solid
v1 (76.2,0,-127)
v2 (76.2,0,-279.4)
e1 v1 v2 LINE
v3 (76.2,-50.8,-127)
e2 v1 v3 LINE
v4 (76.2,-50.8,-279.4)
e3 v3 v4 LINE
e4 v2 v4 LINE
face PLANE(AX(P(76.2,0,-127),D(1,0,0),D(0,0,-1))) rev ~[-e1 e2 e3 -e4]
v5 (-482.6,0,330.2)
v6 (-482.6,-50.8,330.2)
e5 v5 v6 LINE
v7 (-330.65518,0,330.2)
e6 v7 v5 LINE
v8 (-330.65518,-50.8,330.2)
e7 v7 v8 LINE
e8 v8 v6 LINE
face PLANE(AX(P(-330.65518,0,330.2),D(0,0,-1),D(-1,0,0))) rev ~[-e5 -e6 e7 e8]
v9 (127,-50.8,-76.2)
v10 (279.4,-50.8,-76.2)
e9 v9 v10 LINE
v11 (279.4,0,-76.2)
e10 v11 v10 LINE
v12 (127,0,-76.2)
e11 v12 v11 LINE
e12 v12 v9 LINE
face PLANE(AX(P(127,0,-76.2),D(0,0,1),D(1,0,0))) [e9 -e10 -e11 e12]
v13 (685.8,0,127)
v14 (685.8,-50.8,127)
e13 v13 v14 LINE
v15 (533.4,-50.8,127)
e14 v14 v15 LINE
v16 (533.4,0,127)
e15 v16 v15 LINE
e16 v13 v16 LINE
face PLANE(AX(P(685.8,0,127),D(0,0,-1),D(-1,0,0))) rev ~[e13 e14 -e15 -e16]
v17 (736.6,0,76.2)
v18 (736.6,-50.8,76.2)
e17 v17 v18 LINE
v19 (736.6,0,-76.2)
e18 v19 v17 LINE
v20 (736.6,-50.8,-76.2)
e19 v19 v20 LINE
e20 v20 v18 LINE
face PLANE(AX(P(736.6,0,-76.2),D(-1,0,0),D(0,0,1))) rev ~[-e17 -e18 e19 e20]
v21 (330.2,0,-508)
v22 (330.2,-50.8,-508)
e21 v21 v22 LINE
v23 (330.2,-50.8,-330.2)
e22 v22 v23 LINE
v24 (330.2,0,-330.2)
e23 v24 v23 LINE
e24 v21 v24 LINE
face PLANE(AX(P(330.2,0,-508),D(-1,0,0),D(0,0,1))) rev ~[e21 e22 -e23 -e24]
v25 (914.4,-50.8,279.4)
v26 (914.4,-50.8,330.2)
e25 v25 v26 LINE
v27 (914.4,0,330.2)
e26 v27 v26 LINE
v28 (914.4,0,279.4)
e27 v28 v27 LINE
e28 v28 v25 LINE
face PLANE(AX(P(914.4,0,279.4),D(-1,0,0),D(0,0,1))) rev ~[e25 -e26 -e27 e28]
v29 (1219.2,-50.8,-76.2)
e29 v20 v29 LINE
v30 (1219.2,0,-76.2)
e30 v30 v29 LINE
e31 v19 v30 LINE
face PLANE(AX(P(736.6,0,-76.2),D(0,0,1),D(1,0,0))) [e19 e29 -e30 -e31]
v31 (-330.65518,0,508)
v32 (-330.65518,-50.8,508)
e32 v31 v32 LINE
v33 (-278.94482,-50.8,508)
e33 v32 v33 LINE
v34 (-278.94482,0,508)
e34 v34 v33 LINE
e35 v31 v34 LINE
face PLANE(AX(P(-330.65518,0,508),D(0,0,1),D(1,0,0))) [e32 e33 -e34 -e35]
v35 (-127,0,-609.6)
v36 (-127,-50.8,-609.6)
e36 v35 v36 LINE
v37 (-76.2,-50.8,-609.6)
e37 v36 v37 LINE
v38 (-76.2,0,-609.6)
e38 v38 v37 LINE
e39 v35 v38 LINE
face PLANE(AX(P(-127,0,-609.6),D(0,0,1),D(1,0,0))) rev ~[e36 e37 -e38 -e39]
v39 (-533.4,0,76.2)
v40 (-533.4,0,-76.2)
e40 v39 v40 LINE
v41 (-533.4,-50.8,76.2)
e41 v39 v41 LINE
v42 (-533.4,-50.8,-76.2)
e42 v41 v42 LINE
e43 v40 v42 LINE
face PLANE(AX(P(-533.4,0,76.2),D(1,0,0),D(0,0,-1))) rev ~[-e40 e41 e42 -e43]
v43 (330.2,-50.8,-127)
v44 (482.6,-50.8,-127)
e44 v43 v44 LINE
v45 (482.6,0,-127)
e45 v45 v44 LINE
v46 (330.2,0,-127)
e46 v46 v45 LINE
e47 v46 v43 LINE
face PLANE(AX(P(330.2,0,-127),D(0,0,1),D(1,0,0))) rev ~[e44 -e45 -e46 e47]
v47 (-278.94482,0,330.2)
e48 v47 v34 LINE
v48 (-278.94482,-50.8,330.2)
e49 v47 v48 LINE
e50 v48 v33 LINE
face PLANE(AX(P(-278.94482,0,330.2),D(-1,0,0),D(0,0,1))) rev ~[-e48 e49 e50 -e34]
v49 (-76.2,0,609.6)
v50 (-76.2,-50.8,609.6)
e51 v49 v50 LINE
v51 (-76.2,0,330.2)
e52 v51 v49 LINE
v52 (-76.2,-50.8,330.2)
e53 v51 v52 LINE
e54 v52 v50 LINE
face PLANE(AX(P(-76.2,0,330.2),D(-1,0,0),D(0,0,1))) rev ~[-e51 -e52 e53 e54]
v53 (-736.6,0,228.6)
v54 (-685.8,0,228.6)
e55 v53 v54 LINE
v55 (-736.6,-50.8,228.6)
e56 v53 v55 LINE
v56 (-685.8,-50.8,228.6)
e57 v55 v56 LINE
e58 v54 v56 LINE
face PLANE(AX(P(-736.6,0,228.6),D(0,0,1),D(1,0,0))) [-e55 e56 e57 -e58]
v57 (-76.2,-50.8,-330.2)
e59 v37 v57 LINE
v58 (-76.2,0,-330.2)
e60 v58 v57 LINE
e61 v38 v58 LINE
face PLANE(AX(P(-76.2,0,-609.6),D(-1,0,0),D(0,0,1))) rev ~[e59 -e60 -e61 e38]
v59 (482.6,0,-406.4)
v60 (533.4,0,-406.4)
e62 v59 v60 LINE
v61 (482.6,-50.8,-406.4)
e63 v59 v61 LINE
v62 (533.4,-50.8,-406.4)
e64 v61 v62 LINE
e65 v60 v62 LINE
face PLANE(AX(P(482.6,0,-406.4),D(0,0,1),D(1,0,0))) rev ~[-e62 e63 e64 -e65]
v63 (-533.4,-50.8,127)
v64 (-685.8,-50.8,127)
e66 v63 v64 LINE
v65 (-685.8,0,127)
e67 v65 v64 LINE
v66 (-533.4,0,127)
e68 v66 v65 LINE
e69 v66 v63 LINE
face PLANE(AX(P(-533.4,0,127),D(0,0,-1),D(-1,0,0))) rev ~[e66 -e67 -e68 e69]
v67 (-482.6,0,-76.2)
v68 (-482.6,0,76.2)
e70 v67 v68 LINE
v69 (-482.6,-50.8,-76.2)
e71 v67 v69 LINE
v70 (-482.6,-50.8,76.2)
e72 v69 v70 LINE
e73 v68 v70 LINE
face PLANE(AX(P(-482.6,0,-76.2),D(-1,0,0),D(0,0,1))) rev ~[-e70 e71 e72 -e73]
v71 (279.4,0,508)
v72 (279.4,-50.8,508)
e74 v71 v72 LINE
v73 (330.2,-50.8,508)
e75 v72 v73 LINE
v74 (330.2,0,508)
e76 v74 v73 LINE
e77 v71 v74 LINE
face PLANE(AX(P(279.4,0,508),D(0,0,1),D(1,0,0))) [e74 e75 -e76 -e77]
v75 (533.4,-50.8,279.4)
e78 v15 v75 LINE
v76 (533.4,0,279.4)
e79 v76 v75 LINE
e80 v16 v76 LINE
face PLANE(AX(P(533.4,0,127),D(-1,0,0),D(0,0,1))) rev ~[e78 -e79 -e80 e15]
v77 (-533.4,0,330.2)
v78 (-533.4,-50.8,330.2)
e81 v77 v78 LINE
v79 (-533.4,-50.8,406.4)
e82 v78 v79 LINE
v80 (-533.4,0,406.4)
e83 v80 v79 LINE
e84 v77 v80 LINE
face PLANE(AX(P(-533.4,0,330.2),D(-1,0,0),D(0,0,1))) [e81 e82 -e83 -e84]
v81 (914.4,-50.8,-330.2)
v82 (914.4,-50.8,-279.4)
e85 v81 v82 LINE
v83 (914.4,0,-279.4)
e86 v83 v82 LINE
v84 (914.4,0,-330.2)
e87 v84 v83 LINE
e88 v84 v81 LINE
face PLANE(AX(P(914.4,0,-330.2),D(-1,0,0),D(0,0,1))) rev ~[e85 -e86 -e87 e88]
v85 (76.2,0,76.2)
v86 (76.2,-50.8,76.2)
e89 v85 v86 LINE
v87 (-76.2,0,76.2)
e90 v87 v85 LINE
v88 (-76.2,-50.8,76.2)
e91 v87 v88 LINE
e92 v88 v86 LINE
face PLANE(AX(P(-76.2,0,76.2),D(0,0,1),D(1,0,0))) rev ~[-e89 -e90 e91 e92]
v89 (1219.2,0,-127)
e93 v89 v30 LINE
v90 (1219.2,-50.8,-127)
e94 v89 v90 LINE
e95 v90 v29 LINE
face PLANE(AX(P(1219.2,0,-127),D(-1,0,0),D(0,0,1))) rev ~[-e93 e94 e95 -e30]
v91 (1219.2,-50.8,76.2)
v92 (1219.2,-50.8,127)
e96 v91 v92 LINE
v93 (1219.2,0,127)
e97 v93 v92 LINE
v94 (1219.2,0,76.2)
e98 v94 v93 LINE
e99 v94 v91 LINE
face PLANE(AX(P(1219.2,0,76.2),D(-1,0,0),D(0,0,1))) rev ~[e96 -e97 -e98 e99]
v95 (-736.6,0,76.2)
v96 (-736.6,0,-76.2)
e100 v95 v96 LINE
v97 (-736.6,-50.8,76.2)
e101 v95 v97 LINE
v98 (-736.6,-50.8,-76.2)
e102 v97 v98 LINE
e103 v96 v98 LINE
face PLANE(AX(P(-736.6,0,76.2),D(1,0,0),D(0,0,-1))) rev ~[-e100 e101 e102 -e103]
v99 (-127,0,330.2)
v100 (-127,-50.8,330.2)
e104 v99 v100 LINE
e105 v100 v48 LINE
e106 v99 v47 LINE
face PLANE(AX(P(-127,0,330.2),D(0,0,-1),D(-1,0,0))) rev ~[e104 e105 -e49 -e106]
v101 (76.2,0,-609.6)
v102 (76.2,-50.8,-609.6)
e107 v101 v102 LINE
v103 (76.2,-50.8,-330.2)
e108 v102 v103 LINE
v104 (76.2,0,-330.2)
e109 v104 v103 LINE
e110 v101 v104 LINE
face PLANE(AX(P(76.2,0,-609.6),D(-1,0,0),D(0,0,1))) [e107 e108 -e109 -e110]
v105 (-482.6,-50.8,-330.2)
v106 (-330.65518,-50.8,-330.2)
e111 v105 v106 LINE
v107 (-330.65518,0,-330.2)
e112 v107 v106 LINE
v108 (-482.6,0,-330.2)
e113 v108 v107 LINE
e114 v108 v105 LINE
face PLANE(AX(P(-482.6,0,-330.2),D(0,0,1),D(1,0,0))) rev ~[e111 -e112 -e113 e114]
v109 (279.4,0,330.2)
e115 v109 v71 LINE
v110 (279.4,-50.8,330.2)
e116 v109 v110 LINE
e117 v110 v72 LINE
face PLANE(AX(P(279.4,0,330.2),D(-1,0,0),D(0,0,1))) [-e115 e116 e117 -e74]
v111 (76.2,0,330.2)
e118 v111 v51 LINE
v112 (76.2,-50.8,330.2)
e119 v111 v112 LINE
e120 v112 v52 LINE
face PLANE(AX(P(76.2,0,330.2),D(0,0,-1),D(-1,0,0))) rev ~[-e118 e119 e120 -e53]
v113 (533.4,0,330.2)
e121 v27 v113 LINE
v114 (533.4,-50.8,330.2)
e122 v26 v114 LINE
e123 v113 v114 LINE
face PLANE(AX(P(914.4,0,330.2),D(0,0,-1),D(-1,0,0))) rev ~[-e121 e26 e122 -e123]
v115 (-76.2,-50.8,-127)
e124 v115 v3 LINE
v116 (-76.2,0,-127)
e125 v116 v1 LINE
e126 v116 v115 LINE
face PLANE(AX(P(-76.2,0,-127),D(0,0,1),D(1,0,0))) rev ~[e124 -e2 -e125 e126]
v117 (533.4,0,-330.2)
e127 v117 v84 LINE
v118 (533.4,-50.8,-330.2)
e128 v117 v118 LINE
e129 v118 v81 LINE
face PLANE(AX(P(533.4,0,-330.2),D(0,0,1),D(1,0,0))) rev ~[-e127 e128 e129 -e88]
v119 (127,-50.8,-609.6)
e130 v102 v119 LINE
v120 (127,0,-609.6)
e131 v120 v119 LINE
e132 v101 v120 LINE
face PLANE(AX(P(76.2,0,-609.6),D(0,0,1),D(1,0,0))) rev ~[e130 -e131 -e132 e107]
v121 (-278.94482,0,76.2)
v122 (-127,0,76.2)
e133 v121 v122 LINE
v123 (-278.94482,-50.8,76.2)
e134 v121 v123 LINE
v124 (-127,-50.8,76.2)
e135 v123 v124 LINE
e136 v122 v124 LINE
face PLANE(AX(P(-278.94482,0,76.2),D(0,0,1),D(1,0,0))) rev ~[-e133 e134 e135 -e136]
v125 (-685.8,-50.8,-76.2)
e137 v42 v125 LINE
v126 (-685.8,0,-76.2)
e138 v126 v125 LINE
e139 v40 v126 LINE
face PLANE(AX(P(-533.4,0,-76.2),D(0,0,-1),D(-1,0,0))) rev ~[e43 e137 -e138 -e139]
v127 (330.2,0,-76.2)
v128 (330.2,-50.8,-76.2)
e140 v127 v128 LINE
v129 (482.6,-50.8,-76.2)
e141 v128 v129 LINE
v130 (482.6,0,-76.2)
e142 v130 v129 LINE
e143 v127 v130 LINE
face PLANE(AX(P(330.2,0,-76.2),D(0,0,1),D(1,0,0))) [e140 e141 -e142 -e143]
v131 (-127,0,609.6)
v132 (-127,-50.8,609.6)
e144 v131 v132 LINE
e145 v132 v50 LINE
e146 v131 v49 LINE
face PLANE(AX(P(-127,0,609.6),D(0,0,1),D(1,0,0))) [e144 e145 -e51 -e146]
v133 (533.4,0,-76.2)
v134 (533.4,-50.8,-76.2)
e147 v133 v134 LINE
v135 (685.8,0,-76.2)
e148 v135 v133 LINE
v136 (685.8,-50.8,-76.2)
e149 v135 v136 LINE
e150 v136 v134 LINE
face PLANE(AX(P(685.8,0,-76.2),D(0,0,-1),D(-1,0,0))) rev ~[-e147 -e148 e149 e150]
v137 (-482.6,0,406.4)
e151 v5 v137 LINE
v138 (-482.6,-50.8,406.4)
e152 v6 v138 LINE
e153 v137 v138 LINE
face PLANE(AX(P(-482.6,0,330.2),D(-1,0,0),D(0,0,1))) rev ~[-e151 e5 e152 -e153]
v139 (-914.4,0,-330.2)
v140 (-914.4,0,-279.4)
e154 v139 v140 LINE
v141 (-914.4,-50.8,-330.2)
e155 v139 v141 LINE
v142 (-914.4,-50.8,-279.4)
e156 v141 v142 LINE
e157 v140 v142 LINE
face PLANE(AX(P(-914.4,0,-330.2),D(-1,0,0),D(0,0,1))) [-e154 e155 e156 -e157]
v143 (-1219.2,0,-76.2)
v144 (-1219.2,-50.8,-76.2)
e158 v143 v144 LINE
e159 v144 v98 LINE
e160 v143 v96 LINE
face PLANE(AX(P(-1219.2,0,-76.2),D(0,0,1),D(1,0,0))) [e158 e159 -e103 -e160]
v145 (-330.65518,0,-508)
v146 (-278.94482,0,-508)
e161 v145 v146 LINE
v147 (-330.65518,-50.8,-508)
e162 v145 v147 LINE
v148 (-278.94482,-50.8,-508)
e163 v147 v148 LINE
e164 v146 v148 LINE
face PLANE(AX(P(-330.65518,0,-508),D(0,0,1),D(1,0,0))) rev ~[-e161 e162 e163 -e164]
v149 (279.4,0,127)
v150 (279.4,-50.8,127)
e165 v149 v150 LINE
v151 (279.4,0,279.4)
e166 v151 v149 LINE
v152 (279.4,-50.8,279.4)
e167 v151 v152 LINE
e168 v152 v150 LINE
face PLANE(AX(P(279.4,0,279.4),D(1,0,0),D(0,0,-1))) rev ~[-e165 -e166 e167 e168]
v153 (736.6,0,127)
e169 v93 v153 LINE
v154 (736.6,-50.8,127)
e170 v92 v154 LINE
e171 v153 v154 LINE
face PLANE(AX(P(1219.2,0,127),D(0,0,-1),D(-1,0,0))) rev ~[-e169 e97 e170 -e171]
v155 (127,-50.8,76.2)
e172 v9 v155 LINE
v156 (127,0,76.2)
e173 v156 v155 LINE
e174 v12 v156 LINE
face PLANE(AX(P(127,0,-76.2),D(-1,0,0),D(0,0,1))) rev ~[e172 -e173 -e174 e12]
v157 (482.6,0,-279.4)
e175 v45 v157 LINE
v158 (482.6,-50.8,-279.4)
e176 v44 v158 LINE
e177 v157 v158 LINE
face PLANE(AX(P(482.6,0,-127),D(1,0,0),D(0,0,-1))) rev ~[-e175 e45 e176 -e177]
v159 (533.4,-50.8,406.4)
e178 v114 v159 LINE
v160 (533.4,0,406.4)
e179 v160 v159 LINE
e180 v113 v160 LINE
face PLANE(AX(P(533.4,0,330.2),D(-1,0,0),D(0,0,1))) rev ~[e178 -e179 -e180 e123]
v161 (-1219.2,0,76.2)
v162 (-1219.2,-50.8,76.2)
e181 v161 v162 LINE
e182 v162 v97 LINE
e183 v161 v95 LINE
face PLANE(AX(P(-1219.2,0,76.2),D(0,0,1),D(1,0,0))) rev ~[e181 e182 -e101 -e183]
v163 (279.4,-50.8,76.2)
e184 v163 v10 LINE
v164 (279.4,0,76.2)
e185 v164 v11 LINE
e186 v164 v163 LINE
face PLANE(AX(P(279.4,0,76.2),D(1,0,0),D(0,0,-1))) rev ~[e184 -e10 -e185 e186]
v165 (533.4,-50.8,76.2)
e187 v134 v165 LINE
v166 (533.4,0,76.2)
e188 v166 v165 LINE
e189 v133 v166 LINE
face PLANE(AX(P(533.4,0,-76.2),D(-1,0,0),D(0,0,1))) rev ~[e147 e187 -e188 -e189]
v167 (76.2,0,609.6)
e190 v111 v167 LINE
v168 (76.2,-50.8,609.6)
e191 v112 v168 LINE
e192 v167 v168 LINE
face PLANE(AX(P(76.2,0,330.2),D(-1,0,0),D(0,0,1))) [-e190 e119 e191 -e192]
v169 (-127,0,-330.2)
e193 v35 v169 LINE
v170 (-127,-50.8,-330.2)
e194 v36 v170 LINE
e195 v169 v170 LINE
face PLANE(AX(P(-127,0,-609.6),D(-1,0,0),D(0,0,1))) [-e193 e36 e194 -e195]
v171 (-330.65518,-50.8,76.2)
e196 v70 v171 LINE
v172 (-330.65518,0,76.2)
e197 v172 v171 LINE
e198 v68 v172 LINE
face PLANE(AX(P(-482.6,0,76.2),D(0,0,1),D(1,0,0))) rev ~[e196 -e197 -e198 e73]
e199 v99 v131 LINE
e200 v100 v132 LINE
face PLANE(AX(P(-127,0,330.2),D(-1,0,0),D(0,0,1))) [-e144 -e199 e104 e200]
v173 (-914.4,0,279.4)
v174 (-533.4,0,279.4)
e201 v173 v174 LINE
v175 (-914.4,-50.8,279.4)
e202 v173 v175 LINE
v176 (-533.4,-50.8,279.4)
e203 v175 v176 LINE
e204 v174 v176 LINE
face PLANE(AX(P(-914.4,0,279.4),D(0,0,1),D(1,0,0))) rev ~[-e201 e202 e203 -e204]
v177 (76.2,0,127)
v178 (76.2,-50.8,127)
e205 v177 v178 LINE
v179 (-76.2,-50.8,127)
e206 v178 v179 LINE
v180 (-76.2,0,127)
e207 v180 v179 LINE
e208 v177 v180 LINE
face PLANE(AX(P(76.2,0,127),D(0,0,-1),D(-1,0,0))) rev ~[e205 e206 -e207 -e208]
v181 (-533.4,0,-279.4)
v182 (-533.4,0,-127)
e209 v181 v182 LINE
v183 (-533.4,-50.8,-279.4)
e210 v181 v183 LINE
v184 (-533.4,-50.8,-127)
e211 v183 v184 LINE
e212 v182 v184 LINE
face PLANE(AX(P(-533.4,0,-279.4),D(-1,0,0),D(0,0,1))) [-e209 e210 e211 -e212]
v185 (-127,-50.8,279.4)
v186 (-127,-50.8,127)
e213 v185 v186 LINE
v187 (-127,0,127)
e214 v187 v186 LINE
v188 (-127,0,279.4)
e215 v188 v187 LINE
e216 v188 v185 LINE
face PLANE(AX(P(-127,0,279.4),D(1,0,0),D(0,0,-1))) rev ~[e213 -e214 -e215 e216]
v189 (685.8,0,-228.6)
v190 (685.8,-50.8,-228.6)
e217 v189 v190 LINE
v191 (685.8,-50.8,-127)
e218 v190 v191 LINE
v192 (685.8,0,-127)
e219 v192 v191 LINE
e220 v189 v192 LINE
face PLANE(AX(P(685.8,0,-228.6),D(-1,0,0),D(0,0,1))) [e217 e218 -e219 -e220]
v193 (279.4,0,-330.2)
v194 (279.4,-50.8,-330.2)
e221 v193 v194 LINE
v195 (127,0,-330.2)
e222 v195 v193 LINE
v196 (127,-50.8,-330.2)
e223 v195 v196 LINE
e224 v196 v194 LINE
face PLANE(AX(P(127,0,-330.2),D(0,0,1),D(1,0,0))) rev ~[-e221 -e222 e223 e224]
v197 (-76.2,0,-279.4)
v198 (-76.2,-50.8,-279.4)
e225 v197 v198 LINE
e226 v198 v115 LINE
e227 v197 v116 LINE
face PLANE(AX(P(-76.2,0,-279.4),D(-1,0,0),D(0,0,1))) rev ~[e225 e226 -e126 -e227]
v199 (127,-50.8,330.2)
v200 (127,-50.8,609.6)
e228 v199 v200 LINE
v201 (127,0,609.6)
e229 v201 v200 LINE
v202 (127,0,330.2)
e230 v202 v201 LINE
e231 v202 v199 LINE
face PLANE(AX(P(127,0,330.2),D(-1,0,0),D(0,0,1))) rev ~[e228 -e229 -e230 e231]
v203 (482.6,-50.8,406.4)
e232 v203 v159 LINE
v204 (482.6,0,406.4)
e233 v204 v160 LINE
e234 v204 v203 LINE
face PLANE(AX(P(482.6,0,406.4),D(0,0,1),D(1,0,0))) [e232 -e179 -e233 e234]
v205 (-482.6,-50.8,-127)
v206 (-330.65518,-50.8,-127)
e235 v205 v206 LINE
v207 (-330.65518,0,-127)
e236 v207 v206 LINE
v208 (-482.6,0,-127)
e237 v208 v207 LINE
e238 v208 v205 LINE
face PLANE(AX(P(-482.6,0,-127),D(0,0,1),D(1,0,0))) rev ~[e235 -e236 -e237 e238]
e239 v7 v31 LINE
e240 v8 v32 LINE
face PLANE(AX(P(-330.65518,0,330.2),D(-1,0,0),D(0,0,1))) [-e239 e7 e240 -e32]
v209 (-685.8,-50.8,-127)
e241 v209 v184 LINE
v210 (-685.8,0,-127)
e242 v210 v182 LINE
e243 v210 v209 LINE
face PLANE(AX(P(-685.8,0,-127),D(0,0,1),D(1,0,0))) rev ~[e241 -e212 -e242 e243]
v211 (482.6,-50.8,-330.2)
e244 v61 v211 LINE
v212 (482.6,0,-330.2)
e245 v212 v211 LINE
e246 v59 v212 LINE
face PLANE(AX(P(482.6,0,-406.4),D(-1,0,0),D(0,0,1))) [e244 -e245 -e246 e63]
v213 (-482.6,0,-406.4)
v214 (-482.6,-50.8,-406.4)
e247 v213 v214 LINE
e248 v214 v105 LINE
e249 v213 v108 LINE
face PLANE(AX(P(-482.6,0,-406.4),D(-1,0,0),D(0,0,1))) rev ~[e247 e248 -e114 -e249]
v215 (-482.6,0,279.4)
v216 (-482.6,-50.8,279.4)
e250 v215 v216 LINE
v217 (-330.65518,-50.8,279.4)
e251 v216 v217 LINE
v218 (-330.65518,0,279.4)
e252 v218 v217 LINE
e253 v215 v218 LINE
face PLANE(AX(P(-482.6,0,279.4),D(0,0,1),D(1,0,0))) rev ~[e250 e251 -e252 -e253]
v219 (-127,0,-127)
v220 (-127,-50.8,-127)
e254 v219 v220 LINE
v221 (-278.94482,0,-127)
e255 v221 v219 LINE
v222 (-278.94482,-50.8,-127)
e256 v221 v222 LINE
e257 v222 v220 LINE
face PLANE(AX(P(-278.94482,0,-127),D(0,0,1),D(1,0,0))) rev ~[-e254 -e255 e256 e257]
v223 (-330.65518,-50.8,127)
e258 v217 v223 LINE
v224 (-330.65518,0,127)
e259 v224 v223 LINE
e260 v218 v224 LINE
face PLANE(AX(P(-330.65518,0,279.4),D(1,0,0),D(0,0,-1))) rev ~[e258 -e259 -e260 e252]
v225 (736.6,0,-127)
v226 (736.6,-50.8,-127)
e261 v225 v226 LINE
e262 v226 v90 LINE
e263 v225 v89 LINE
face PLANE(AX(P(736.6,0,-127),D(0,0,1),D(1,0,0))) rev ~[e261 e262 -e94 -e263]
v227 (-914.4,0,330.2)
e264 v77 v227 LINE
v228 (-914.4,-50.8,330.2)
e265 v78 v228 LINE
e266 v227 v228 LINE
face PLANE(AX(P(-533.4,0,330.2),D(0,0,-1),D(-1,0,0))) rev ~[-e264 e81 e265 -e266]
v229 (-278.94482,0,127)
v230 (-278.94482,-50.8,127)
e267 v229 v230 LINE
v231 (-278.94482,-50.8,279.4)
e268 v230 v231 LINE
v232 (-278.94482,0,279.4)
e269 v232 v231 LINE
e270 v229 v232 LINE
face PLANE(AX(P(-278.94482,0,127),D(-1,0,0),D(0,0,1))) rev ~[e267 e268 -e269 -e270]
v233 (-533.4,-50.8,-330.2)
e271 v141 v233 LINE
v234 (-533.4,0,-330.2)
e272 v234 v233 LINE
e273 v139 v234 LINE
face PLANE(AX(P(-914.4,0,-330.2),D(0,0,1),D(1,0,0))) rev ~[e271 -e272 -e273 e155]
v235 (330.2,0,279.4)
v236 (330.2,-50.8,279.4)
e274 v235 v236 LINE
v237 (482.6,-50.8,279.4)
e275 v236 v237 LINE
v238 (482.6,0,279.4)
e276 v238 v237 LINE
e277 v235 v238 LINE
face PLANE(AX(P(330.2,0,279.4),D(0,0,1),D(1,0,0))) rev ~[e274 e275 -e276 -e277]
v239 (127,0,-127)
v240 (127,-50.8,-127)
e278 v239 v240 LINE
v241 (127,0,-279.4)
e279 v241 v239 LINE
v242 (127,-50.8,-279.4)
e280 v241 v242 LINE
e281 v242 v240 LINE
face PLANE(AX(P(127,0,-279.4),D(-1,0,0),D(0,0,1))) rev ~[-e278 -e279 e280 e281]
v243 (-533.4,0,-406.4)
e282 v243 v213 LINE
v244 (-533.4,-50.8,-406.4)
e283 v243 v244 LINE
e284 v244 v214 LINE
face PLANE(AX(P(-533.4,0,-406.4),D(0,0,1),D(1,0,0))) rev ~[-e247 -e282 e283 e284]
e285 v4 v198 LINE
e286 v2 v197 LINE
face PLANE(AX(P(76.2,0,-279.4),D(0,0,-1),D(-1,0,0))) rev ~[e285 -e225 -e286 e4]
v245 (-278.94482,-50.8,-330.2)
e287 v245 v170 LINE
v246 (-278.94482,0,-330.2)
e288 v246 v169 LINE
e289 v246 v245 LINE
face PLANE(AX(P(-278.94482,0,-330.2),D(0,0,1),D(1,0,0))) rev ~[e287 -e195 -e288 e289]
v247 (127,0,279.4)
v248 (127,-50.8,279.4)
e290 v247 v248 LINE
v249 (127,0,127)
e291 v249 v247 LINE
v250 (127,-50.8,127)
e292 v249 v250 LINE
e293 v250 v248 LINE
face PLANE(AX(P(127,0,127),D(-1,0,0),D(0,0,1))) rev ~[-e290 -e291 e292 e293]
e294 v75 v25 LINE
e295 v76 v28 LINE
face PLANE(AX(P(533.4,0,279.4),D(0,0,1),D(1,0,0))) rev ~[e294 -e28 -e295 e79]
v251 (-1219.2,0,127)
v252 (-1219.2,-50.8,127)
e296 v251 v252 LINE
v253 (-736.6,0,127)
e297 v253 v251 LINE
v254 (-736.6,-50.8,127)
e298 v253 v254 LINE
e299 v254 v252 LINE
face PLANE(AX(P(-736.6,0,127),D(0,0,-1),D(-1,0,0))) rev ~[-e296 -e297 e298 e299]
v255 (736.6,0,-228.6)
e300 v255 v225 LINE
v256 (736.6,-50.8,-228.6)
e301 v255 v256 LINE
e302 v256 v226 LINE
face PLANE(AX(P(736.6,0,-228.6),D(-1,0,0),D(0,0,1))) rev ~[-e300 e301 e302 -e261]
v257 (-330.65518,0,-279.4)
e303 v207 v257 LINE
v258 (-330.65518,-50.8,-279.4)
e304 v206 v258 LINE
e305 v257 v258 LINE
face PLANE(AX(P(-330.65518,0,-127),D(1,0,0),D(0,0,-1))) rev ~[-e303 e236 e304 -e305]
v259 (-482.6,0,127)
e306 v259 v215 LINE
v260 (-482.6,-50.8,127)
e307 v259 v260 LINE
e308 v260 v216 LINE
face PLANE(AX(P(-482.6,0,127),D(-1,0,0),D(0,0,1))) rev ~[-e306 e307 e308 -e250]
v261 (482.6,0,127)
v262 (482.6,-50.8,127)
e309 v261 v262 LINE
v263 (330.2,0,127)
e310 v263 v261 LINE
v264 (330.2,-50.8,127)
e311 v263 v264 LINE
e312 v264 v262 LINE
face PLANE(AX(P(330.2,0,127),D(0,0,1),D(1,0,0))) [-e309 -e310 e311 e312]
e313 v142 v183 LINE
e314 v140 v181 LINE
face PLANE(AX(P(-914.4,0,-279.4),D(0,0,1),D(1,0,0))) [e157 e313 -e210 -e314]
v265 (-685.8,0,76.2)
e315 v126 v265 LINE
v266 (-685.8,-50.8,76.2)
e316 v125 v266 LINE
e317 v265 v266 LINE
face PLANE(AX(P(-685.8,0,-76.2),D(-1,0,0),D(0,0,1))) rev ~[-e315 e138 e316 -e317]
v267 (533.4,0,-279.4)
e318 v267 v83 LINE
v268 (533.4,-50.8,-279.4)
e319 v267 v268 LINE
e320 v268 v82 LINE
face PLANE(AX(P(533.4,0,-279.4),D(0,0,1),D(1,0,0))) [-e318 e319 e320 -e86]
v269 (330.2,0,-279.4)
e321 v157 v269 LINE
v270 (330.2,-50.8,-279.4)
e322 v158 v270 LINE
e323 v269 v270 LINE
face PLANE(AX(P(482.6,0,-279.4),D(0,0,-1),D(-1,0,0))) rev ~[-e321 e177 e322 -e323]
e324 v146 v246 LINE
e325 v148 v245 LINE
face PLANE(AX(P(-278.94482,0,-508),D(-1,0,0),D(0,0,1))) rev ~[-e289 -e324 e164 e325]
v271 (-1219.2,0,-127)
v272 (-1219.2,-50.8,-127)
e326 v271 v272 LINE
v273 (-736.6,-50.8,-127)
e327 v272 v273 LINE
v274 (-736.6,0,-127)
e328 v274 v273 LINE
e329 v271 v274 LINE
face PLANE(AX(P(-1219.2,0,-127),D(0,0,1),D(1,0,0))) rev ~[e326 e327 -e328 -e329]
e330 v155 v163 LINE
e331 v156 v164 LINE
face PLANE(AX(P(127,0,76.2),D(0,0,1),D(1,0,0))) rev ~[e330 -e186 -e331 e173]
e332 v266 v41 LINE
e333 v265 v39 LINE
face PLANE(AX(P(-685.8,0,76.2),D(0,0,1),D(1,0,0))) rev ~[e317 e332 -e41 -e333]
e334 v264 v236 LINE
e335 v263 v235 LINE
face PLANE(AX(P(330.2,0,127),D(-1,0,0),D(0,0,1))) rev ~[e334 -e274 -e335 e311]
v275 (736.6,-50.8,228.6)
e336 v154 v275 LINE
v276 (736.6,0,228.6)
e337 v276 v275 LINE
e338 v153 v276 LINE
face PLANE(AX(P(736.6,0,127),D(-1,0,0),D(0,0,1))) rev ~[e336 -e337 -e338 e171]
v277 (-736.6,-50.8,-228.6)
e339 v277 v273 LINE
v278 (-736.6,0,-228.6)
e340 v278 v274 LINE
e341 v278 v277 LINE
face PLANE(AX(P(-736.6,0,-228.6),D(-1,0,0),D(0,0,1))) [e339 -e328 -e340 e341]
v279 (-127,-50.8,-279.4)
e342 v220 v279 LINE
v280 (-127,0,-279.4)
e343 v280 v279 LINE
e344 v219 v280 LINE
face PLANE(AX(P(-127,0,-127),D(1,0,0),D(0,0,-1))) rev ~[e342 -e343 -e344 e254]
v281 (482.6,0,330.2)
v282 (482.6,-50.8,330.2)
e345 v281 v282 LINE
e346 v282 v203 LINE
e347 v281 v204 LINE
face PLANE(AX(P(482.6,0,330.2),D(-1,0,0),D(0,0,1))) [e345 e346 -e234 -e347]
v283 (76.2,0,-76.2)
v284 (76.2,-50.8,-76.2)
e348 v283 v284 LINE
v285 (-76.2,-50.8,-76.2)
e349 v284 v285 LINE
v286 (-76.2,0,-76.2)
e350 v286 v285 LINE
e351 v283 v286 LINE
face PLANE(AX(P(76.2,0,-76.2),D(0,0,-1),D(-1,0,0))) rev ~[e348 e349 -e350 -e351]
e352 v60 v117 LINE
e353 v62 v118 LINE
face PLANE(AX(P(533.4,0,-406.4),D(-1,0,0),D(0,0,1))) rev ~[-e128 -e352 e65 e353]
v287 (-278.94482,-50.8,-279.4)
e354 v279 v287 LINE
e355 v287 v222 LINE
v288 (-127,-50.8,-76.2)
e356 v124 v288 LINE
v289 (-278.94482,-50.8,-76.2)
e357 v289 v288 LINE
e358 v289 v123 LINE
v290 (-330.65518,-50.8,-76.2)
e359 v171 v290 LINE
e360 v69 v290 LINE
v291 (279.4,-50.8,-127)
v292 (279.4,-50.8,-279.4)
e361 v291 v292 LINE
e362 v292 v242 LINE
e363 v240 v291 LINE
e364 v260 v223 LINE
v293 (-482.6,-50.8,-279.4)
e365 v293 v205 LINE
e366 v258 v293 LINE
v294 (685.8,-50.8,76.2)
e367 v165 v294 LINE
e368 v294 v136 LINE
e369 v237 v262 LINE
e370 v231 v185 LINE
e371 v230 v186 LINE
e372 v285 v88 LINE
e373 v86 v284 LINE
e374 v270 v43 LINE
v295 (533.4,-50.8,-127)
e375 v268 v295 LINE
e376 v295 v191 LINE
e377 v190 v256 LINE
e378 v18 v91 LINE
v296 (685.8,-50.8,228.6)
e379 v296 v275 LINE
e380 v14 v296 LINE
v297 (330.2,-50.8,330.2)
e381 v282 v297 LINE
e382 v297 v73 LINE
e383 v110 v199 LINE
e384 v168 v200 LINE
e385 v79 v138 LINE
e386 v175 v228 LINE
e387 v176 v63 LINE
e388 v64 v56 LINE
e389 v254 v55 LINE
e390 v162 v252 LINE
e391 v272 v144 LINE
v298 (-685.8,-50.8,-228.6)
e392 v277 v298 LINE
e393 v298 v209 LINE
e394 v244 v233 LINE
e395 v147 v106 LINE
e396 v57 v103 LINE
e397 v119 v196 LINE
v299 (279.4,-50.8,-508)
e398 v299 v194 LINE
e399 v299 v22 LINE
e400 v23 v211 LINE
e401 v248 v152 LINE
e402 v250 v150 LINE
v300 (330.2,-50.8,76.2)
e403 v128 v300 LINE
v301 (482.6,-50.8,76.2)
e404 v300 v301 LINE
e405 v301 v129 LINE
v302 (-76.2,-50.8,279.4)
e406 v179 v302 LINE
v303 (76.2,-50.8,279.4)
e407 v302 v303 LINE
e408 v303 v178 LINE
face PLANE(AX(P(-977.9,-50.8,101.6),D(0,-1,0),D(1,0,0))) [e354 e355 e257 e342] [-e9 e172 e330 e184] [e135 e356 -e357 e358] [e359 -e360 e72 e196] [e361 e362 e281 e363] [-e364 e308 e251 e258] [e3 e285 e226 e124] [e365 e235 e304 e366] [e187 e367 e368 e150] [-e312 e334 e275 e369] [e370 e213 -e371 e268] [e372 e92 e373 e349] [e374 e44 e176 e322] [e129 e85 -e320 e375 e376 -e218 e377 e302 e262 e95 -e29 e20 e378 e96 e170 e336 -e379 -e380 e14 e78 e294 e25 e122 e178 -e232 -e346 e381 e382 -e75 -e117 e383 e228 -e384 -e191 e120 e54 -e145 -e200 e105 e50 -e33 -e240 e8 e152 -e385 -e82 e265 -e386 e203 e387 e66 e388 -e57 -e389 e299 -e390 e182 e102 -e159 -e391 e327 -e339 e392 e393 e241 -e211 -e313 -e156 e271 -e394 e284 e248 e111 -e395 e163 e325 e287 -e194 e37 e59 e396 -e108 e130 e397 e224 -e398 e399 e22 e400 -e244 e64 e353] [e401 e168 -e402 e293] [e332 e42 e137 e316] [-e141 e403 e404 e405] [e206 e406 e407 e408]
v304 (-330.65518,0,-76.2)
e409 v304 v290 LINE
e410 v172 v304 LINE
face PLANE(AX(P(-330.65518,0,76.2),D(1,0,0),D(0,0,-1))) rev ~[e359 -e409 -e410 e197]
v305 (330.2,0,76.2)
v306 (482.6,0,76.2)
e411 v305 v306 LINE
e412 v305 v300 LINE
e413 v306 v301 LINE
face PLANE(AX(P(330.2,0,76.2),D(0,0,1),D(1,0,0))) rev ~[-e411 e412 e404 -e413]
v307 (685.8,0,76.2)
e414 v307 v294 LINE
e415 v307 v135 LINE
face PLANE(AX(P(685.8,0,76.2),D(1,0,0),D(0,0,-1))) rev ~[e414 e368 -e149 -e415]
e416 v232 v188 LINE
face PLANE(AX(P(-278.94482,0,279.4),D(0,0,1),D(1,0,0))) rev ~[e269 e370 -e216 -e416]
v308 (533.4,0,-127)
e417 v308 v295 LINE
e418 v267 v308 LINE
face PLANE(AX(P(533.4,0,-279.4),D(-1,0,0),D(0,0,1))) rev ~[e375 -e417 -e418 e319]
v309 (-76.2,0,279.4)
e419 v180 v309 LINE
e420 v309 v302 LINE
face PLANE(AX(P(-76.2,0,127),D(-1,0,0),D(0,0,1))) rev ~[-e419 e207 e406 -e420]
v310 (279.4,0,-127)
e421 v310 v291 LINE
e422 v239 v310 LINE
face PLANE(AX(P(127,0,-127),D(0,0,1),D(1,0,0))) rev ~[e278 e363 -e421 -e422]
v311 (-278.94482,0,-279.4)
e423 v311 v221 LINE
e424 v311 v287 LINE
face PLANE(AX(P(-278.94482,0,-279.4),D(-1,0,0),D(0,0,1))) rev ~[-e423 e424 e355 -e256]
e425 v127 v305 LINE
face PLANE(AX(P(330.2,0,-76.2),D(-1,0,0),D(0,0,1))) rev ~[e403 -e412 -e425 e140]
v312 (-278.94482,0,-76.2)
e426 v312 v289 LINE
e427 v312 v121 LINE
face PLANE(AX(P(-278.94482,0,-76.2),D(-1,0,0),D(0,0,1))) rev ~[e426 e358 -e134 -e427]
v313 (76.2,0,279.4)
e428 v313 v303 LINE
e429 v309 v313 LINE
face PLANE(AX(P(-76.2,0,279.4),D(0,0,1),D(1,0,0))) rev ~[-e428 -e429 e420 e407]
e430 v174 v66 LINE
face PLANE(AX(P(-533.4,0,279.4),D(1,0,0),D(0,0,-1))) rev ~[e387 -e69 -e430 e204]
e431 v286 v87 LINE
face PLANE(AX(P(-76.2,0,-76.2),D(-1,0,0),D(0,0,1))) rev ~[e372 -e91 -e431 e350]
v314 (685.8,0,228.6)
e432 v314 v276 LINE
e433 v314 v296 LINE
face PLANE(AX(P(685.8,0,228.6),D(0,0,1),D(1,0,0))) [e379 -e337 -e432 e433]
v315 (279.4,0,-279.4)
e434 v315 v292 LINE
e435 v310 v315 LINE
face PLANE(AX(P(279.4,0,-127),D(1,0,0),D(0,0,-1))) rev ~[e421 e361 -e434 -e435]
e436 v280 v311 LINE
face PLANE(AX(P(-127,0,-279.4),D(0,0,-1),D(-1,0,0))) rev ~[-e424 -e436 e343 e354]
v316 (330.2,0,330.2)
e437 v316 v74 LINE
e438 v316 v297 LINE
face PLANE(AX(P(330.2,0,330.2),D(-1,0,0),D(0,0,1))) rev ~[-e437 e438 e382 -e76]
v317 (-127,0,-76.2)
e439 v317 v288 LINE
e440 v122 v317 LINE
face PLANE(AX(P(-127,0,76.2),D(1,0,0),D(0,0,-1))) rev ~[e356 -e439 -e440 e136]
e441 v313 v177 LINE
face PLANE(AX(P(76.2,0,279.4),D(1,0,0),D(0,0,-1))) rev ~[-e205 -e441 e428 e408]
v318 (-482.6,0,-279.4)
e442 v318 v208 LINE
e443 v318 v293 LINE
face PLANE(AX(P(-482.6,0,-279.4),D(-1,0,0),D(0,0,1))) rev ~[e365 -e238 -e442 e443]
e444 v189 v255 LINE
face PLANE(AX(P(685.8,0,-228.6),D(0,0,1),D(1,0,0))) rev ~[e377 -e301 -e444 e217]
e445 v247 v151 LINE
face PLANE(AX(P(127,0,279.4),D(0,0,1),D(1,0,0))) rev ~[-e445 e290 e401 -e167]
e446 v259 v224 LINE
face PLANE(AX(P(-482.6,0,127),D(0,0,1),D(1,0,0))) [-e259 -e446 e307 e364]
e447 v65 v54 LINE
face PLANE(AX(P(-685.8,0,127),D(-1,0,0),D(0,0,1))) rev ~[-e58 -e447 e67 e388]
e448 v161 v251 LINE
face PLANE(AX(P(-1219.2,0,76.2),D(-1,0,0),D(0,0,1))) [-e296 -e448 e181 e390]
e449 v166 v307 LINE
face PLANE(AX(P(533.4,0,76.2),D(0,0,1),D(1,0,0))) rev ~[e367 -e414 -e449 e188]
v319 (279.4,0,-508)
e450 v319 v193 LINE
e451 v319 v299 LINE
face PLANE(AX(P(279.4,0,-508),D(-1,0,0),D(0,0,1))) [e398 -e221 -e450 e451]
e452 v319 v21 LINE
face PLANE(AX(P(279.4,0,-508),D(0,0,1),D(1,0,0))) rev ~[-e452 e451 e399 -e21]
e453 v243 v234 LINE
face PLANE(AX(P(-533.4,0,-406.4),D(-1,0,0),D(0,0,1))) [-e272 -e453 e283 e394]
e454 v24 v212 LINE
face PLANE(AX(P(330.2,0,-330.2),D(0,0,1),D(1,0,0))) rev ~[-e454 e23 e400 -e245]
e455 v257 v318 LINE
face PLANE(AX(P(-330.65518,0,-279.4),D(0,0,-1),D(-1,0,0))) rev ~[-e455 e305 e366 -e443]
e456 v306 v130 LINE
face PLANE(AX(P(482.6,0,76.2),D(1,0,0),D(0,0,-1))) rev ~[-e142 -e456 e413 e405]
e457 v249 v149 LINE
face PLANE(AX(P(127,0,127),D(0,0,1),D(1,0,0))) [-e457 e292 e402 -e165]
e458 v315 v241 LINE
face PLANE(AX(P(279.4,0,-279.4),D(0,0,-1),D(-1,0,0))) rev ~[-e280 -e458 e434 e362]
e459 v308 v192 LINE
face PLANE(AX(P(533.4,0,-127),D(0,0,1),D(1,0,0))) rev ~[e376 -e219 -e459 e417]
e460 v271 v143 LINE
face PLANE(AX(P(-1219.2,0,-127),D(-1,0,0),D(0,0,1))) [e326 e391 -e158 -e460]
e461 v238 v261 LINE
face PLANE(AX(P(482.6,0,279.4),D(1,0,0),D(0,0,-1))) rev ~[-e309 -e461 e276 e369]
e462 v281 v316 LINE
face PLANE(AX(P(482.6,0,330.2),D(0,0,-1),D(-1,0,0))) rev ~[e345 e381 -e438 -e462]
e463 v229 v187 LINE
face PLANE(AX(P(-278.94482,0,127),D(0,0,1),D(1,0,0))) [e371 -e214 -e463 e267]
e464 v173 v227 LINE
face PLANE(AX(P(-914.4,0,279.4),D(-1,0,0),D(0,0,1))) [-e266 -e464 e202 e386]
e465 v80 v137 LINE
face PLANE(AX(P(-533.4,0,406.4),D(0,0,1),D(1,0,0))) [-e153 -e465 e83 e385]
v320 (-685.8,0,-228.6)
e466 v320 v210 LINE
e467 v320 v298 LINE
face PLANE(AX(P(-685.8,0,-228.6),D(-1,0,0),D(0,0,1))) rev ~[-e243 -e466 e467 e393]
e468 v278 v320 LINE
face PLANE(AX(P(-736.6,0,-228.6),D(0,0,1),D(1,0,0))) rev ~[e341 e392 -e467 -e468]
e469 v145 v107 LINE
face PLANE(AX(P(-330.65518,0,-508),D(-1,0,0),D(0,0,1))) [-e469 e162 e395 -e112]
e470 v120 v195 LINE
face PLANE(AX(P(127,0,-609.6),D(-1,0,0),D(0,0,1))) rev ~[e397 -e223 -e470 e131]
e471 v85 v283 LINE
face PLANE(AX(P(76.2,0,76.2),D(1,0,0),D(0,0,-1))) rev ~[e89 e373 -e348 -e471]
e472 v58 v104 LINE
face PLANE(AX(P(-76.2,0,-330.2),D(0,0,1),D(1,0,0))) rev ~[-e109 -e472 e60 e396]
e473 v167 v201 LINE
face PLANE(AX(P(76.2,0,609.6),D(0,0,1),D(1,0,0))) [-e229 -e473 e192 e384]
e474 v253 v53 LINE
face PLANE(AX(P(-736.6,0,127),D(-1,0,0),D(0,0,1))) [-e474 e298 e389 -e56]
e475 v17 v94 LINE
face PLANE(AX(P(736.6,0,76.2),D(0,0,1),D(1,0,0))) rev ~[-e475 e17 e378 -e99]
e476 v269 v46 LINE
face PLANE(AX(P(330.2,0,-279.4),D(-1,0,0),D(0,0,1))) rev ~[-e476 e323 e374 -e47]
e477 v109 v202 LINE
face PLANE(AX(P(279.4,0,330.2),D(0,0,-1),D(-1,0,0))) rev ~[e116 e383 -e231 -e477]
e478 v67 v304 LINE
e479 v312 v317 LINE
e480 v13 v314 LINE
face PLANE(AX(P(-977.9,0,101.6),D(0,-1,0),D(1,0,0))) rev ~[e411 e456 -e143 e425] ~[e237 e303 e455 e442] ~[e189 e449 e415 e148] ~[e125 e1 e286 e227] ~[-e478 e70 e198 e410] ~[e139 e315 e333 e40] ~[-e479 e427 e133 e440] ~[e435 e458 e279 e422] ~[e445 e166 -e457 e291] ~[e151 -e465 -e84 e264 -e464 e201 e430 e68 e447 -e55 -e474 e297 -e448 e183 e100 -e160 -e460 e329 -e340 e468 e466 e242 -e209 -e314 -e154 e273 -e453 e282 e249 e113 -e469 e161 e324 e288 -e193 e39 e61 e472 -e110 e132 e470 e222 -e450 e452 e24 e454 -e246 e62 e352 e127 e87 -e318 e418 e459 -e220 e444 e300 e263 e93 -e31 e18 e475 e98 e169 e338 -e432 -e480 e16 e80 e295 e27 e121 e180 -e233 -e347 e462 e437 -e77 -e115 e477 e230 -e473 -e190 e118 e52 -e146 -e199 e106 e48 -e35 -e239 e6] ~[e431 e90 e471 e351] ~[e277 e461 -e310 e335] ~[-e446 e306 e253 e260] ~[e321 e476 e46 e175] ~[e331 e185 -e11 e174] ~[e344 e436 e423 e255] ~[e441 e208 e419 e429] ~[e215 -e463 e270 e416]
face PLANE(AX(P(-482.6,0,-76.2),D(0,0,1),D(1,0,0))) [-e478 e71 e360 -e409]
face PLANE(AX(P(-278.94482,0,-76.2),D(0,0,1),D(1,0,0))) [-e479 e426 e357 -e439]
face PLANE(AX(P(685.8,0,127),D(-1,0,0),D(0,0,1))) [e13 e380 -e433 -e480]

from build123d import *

# Parameters (mm, degrees)
F0_W     = 482.6
F0_H     = 50.8
F0_W_2   = 50.8
F0_W_3   = 152.4
F0_H_2   = 101.6
F0_W_4   = 482.6000000003
F0_H_3   = 152.4
F0_W_5   = 381.0000000003
F0_W_6   = 151.9448201656
F0_H_4   = 76.2
F0_W_7   = 51.7103596687
F0_H_5   = 177.8
F0_H_6   = 279.4
F0_W_8   = 380.9999999997
F1_DEPTH = 50.8


with BuildPart() as f1:
    # F0 (on Front) → F1 (new body)
    with BuildSketch(Plane.XZ):
        with Locations((-977.9, 101.6)):
            Rectangle(F0_W, F0_H)
        with Locations((-711.2, 101.6)):
            Rectangle(F0_W_2, F0_H)
        Polygon((-685.8, 76.2), (-736.6, 76.2), (-736.6, -76.2), (-685.8, -76.2), (-685.8, 0), align=None)
        with Locations((-609.6, 101.6)):
            Rectangle(F0_W_3, F0_H)
        with Locations((-711.2, 177.8)):
            Rectangle(F0_W_2, F0_H_2)
        with Locations((-977.9000000001, -101.6)):
            Rectangle(F0_W_4, F0_H)
        with Locations((-711.2, -101.6)):
            Rectangle(F0_W_2, F0_H)
        with Locations((-508, 101.6)):
            Rectangle(F0_W_2, F0_H)
        with Locations((-609.6, -101.6)):
            Rectangle(F0_W_3, F0_H)
        with Locations((-711.2, -177.8)):
            Rectangle(F0_W_2, F0_H_2)
        with Locations((-508, 203.2)):
            Rectangle(F0_W_2, F0_H_3)
        with Locations((-508, -101.6)):
            Rectangle(F0_W_2, F0_H)
        with Locations((-508, 304.8)):
            Rectangle(F0_W_2, F0_H)
        with Locations((-723.9000000001, 304.8)):
            Rectangle(F0_W_5, F0_H)
        with Locations((-508, -203.2)):
            Rectangle(F0_W_2, F0_H_3)
        with Locations((-406.6275899172, 304.8)):
            Rectangle(F0_W_6, F0_H)
        with Locations((-508, 368.3)):
            Rectangle(F0_W_2, F0_H_4)
        with Locations((-723.9000000001, -304.8)):
            Rectangle(F0_W_5, F0_H)
        with Locations((-508, -304.8)):
            Rectangle(F0_W_2, F0_H)
        with Locations((-304.8, 304.8)):
            Rectangle(F0_W_7, F0_H)
        with Locations((-406.6275899172, -304.8)):
            Rectangle(F0_W_6, F0_H)
        with Locations((-508, -368.3)):
            Rectangle(F0_W_2, F0_H_4)
        with Locations((-202.9724100828, 304.8)):
            Rectangle(F0_W_6, F0_H)
        with Locations((-304.8, 419.1)):
            Rectangle(F0_W_7, F0_H_5)
        with Locations((-304.8, -304.8)):
            Rectangle(F0_W_7, F0_H)
        with Locations((-101.6, 304.8)):
            Rectangle(F0_W_2, F0_H)
        with Locations((-202.9724100828, -304.8)):
            Rectangle(F0_W_6, F0_H)
        with Locations((-304.8, -419.1)):
            Rectangle(F0_W_7, F0_H_5)
        Polygon((-76.2, 330.2), (-76.2, 279.4), (-2e-10, 279.4), (76.2, 279.4), (76.2, 330.2), align=None)
        with Locations((-101.6, 469.9)):
            Rectangle(F0_W_2, F0_H_6)
        with Locations((-101.6, -304.8)):
            Rectangle(F0_W_2, F0_H)
        with Locations((101.6, 304.8)):
            Rectangle(F0_W_2, F0_H)
        Polygon((-3e-10, -279.4), (-76.2, -279.4), (-76.2, -330.2), (76.2, -330.2), (76.2, -279.4), align=None)
        with Locations((-101.6, -469.9)):
            Rectangle(F0_W_2, F0_H_6)
        with Locations((203.2, 304.8)):
            Rectangle(F0_W_3, F0_H)
        with Locations((101.6, 469.9)):
            Rectangle(F0_W_2, F0_H_6)
        with Locations((101.6, -304.8)):
            Rectangle(F0_W_2, F0_H)
        with Locations((508, 101.6)):
            Rectangle(F0_W_2, F0_H)
        with Locations((304.8, 304.8)):
            Rectangle(F0_W_2, F0_H)
        with Locations((203.2, -304.8)):
            Rectangle(F0_W_3, F0_H)
        with Locations((101.6, -469.9)):
            Rectangle(F0_W_2, F0_H_6)
        with Locations((609.6, 101.6)):
            Rectangle(F0_W_3, F0_H)
        with Locations((508, 203.2)):
            Rectangle(F0_W_2, F0_H_3)
        with Locations((406.4, 304.8)):
            Rectangle(F0_W_3, F0_H)
        with Locations((304.8, 419.1)):
            Rectangle(F0_W_2, F0_H_5)
        with Locations((508, -101.6)):
            Rectangle(F0_W_2, F0_H)
        with Locations((304.8, -304.8)):
            Rectangle(F0_W_2, F0_H)
        with Locations((711.2, 101.6)):
            Rectangle(F0_W_2, F0_H)
        Polygon((736.6, 76.2), (685.8, 76.2), (685.8, 0), (685.8, -76.2), (736.6, -76.2), align=None)
        with Locations((508, 304.8)):
            Rectangle(F0_W_2, F0_H)
        with Locations((609.6, -101.6)):
            Rectangle(F0_W_3, F0_H)
        with Locations((508, -203.2)):
            Rectangle(F0_W_2, F0_H_3)
        with Locations((406.4, -304.8)):
            Rectangle(F0_W_3, F0_H)
        with Locations((304.8, -419.1)):
            Rectangle(F0_W_2, F0_H_5)
        with Locations((977.9000000001, 101.6)):
            Rectangle(F0_W_4, F0_H)
        with Locations((711.2, 177.8)):
            Rectangle(F0_W_2, F0_H_2)
        with Locations((723.8999999999, 304.8)):
            Rectangle(F0_W_8, F0_H)
        with Locations((508, 368.3)):
            Rectangle(F0_W_2, F0_H_4)
        with Locations((711.2, -101.6)):
            Rectangle(F0_W_2, F0_H)
        with Locations((508, -304.8)):
            Rectangle(F0_W_2, F0_H)
        with Locations((977.9, -101.6)):
            Rectangle(F0_W, F0_H)
        with Locations((711.2, -177.8)):
            Rectangle(F0_W_2, F0_H_2)
        with Locations((723.8999999999, -304.8)):
            Rectangle(F0_W_8, F0_H)
        with Locations((508, -368.3)):
            Rectangle(F0_W_2, F0_H_4)
        with Locations((-304.8, 203.2)):
            Rectangle(F0_W_7, F0_H_3)
        with Locations((-101.6, 203.2)):
            Rectangle(F0_W_2, F0_H_3)
        with Locations((101.6, 203.2)):
            Rectangle(F0_W_2, F0_H_3)
        with Locations((304.8, 203.2)):
            Rectangle(F0_W_2, F0_H_3)
        Polygon((330.2, 76.2), (279.4, 76.2), (279.4, 0), (304.8, 0), (330.2, 0), align=None)
        Polygon((304.8, 0), (279.4, 0), (279.4, -76.2), (330.2, -76.2), (330.2, 0), align=None)
        with Locations((304.8, -101.6)):
            Rectangle(F0_W_2, F0_H)
        with Locations((304.8, -203.2)):
            Rectangle(F0_W_2, F0_H_3)
        with Locations((304.8, 101.6)):
            Rectangle(F0_W_2, F0_H)
        Polygon((533.4, 76.2), (482.6, 76.2), (482.6, 0), (508, 0), (533.4, 0), align=None)
        Polygon((508, 0), (482.6, 0), (482.6, -76.2), (533.4, -76.2), (533.4, 0), align=None)
        with Locations((101.6, -203.2)):
            Rectangle(F0_W_2, F0_H_3)
        with Locations((101.6, -101.6)):
            Rectangle(F0_W_2, F0_H)
        Polygon((101.6, 0), (76.2, 0), (76.2, -76.2), (127, -76.2), (127, 0), align=None)
        Polygon((127, 76.2), (76.2, 76.2), (76.2, 0), (101.6, 0), (127, 0), align=None)
        with Locations((101.6, 101.6)):
            Rectangle(F0_W_2, F0_H)
        with Locations((-101.6, 101.6)):
            Rectangle(F0_W_2, F0_H)
        Polygon((-76.2, 76.2), (-127, 76.2), (-127, 0), (-101.6, 0), (-76.2, 0), align=None)
        Polygon((-101.6, 0), (-127, 0), (-127, -76.2), (-76.2, -76.2), (-76.2, 0), align=None)
        with Locations((-101.6, -101.6)):
            Rectangle(F0_W_2, F0_H)
        with Locations((-101.6, -203.2)):
            Rectangle(F0_W_2, F0_H_3)
        with Locations((-304.8, -203.2)):
            Rectangle(F0_W_7, F0_H_3)
        with Locations((-304.8, -101.6)):
            Rectangle(F0_W_7, F0_H)
        Polygon((-304.8, 0), (-330.6551798344, 0), (-330.6551798344, -76.2), (-278.9448201656, -76.2), (-278.9448201656, 0), align=None)
        Polygon((-278.9448201656, 76.2), (-330.6551798344, 76.2), (-330.6551798344, 0), (-304.8, 0), (-278.9448201656, 0), align=None)
        with Locations((-304.8, 101.6)):
            Rectangle(F0_W_7, F0_H)
        Polygon((-482.6, 76.2), (-533.4, 76.2), (-533.4, 0), (-508, 0), (-482.6, 0), align=None)
        Polygon((-508, 0), (-533.4, 0), (-533.4, -76.2), (-482.6, -76.2), (-482.6, 0), align=None)
        with Locations((-406.6275899172, 101.6)):
            Rectangle(F0_W_6, F0_H)
        with Locations((-202.9724100828, 101.6)):
            Rectangle(F0_W_6, F0_H)
        Polygon((-76.2, 127), (-76.2, 76.2), (76.2, 76.2), (76.2, 127), (0, 127), align=None)
        with Locations((203.2, 101.6)):
            Rectangle(F0_W_3, F0_H)
        with Locations((406.4, 101.6)):
            Rectangle(F0_W_3, F0_H)
        with Locations((406.4, -101.6)):
            Rectangle(F0_W_3, F0_H)
        with Locations((203.2, -101.6)):
            Rectangle(F0_W_3, F0_H)
        Polygon((76.2, -76.2), (-76.2, -76.2), (-76.2, -127), (-3e-10, -127), (76.2, -127), align=None)
        with Locations((-202.9724100828, -101.6)):
            Rectangle(F0_W_6, F0_H)
        with Locations((-406.6275899172, -101.6)):
            Rectangle(F0_W_6, F0_H)
    extrude(amount=F1_DEPTH)


solid = f1.part
